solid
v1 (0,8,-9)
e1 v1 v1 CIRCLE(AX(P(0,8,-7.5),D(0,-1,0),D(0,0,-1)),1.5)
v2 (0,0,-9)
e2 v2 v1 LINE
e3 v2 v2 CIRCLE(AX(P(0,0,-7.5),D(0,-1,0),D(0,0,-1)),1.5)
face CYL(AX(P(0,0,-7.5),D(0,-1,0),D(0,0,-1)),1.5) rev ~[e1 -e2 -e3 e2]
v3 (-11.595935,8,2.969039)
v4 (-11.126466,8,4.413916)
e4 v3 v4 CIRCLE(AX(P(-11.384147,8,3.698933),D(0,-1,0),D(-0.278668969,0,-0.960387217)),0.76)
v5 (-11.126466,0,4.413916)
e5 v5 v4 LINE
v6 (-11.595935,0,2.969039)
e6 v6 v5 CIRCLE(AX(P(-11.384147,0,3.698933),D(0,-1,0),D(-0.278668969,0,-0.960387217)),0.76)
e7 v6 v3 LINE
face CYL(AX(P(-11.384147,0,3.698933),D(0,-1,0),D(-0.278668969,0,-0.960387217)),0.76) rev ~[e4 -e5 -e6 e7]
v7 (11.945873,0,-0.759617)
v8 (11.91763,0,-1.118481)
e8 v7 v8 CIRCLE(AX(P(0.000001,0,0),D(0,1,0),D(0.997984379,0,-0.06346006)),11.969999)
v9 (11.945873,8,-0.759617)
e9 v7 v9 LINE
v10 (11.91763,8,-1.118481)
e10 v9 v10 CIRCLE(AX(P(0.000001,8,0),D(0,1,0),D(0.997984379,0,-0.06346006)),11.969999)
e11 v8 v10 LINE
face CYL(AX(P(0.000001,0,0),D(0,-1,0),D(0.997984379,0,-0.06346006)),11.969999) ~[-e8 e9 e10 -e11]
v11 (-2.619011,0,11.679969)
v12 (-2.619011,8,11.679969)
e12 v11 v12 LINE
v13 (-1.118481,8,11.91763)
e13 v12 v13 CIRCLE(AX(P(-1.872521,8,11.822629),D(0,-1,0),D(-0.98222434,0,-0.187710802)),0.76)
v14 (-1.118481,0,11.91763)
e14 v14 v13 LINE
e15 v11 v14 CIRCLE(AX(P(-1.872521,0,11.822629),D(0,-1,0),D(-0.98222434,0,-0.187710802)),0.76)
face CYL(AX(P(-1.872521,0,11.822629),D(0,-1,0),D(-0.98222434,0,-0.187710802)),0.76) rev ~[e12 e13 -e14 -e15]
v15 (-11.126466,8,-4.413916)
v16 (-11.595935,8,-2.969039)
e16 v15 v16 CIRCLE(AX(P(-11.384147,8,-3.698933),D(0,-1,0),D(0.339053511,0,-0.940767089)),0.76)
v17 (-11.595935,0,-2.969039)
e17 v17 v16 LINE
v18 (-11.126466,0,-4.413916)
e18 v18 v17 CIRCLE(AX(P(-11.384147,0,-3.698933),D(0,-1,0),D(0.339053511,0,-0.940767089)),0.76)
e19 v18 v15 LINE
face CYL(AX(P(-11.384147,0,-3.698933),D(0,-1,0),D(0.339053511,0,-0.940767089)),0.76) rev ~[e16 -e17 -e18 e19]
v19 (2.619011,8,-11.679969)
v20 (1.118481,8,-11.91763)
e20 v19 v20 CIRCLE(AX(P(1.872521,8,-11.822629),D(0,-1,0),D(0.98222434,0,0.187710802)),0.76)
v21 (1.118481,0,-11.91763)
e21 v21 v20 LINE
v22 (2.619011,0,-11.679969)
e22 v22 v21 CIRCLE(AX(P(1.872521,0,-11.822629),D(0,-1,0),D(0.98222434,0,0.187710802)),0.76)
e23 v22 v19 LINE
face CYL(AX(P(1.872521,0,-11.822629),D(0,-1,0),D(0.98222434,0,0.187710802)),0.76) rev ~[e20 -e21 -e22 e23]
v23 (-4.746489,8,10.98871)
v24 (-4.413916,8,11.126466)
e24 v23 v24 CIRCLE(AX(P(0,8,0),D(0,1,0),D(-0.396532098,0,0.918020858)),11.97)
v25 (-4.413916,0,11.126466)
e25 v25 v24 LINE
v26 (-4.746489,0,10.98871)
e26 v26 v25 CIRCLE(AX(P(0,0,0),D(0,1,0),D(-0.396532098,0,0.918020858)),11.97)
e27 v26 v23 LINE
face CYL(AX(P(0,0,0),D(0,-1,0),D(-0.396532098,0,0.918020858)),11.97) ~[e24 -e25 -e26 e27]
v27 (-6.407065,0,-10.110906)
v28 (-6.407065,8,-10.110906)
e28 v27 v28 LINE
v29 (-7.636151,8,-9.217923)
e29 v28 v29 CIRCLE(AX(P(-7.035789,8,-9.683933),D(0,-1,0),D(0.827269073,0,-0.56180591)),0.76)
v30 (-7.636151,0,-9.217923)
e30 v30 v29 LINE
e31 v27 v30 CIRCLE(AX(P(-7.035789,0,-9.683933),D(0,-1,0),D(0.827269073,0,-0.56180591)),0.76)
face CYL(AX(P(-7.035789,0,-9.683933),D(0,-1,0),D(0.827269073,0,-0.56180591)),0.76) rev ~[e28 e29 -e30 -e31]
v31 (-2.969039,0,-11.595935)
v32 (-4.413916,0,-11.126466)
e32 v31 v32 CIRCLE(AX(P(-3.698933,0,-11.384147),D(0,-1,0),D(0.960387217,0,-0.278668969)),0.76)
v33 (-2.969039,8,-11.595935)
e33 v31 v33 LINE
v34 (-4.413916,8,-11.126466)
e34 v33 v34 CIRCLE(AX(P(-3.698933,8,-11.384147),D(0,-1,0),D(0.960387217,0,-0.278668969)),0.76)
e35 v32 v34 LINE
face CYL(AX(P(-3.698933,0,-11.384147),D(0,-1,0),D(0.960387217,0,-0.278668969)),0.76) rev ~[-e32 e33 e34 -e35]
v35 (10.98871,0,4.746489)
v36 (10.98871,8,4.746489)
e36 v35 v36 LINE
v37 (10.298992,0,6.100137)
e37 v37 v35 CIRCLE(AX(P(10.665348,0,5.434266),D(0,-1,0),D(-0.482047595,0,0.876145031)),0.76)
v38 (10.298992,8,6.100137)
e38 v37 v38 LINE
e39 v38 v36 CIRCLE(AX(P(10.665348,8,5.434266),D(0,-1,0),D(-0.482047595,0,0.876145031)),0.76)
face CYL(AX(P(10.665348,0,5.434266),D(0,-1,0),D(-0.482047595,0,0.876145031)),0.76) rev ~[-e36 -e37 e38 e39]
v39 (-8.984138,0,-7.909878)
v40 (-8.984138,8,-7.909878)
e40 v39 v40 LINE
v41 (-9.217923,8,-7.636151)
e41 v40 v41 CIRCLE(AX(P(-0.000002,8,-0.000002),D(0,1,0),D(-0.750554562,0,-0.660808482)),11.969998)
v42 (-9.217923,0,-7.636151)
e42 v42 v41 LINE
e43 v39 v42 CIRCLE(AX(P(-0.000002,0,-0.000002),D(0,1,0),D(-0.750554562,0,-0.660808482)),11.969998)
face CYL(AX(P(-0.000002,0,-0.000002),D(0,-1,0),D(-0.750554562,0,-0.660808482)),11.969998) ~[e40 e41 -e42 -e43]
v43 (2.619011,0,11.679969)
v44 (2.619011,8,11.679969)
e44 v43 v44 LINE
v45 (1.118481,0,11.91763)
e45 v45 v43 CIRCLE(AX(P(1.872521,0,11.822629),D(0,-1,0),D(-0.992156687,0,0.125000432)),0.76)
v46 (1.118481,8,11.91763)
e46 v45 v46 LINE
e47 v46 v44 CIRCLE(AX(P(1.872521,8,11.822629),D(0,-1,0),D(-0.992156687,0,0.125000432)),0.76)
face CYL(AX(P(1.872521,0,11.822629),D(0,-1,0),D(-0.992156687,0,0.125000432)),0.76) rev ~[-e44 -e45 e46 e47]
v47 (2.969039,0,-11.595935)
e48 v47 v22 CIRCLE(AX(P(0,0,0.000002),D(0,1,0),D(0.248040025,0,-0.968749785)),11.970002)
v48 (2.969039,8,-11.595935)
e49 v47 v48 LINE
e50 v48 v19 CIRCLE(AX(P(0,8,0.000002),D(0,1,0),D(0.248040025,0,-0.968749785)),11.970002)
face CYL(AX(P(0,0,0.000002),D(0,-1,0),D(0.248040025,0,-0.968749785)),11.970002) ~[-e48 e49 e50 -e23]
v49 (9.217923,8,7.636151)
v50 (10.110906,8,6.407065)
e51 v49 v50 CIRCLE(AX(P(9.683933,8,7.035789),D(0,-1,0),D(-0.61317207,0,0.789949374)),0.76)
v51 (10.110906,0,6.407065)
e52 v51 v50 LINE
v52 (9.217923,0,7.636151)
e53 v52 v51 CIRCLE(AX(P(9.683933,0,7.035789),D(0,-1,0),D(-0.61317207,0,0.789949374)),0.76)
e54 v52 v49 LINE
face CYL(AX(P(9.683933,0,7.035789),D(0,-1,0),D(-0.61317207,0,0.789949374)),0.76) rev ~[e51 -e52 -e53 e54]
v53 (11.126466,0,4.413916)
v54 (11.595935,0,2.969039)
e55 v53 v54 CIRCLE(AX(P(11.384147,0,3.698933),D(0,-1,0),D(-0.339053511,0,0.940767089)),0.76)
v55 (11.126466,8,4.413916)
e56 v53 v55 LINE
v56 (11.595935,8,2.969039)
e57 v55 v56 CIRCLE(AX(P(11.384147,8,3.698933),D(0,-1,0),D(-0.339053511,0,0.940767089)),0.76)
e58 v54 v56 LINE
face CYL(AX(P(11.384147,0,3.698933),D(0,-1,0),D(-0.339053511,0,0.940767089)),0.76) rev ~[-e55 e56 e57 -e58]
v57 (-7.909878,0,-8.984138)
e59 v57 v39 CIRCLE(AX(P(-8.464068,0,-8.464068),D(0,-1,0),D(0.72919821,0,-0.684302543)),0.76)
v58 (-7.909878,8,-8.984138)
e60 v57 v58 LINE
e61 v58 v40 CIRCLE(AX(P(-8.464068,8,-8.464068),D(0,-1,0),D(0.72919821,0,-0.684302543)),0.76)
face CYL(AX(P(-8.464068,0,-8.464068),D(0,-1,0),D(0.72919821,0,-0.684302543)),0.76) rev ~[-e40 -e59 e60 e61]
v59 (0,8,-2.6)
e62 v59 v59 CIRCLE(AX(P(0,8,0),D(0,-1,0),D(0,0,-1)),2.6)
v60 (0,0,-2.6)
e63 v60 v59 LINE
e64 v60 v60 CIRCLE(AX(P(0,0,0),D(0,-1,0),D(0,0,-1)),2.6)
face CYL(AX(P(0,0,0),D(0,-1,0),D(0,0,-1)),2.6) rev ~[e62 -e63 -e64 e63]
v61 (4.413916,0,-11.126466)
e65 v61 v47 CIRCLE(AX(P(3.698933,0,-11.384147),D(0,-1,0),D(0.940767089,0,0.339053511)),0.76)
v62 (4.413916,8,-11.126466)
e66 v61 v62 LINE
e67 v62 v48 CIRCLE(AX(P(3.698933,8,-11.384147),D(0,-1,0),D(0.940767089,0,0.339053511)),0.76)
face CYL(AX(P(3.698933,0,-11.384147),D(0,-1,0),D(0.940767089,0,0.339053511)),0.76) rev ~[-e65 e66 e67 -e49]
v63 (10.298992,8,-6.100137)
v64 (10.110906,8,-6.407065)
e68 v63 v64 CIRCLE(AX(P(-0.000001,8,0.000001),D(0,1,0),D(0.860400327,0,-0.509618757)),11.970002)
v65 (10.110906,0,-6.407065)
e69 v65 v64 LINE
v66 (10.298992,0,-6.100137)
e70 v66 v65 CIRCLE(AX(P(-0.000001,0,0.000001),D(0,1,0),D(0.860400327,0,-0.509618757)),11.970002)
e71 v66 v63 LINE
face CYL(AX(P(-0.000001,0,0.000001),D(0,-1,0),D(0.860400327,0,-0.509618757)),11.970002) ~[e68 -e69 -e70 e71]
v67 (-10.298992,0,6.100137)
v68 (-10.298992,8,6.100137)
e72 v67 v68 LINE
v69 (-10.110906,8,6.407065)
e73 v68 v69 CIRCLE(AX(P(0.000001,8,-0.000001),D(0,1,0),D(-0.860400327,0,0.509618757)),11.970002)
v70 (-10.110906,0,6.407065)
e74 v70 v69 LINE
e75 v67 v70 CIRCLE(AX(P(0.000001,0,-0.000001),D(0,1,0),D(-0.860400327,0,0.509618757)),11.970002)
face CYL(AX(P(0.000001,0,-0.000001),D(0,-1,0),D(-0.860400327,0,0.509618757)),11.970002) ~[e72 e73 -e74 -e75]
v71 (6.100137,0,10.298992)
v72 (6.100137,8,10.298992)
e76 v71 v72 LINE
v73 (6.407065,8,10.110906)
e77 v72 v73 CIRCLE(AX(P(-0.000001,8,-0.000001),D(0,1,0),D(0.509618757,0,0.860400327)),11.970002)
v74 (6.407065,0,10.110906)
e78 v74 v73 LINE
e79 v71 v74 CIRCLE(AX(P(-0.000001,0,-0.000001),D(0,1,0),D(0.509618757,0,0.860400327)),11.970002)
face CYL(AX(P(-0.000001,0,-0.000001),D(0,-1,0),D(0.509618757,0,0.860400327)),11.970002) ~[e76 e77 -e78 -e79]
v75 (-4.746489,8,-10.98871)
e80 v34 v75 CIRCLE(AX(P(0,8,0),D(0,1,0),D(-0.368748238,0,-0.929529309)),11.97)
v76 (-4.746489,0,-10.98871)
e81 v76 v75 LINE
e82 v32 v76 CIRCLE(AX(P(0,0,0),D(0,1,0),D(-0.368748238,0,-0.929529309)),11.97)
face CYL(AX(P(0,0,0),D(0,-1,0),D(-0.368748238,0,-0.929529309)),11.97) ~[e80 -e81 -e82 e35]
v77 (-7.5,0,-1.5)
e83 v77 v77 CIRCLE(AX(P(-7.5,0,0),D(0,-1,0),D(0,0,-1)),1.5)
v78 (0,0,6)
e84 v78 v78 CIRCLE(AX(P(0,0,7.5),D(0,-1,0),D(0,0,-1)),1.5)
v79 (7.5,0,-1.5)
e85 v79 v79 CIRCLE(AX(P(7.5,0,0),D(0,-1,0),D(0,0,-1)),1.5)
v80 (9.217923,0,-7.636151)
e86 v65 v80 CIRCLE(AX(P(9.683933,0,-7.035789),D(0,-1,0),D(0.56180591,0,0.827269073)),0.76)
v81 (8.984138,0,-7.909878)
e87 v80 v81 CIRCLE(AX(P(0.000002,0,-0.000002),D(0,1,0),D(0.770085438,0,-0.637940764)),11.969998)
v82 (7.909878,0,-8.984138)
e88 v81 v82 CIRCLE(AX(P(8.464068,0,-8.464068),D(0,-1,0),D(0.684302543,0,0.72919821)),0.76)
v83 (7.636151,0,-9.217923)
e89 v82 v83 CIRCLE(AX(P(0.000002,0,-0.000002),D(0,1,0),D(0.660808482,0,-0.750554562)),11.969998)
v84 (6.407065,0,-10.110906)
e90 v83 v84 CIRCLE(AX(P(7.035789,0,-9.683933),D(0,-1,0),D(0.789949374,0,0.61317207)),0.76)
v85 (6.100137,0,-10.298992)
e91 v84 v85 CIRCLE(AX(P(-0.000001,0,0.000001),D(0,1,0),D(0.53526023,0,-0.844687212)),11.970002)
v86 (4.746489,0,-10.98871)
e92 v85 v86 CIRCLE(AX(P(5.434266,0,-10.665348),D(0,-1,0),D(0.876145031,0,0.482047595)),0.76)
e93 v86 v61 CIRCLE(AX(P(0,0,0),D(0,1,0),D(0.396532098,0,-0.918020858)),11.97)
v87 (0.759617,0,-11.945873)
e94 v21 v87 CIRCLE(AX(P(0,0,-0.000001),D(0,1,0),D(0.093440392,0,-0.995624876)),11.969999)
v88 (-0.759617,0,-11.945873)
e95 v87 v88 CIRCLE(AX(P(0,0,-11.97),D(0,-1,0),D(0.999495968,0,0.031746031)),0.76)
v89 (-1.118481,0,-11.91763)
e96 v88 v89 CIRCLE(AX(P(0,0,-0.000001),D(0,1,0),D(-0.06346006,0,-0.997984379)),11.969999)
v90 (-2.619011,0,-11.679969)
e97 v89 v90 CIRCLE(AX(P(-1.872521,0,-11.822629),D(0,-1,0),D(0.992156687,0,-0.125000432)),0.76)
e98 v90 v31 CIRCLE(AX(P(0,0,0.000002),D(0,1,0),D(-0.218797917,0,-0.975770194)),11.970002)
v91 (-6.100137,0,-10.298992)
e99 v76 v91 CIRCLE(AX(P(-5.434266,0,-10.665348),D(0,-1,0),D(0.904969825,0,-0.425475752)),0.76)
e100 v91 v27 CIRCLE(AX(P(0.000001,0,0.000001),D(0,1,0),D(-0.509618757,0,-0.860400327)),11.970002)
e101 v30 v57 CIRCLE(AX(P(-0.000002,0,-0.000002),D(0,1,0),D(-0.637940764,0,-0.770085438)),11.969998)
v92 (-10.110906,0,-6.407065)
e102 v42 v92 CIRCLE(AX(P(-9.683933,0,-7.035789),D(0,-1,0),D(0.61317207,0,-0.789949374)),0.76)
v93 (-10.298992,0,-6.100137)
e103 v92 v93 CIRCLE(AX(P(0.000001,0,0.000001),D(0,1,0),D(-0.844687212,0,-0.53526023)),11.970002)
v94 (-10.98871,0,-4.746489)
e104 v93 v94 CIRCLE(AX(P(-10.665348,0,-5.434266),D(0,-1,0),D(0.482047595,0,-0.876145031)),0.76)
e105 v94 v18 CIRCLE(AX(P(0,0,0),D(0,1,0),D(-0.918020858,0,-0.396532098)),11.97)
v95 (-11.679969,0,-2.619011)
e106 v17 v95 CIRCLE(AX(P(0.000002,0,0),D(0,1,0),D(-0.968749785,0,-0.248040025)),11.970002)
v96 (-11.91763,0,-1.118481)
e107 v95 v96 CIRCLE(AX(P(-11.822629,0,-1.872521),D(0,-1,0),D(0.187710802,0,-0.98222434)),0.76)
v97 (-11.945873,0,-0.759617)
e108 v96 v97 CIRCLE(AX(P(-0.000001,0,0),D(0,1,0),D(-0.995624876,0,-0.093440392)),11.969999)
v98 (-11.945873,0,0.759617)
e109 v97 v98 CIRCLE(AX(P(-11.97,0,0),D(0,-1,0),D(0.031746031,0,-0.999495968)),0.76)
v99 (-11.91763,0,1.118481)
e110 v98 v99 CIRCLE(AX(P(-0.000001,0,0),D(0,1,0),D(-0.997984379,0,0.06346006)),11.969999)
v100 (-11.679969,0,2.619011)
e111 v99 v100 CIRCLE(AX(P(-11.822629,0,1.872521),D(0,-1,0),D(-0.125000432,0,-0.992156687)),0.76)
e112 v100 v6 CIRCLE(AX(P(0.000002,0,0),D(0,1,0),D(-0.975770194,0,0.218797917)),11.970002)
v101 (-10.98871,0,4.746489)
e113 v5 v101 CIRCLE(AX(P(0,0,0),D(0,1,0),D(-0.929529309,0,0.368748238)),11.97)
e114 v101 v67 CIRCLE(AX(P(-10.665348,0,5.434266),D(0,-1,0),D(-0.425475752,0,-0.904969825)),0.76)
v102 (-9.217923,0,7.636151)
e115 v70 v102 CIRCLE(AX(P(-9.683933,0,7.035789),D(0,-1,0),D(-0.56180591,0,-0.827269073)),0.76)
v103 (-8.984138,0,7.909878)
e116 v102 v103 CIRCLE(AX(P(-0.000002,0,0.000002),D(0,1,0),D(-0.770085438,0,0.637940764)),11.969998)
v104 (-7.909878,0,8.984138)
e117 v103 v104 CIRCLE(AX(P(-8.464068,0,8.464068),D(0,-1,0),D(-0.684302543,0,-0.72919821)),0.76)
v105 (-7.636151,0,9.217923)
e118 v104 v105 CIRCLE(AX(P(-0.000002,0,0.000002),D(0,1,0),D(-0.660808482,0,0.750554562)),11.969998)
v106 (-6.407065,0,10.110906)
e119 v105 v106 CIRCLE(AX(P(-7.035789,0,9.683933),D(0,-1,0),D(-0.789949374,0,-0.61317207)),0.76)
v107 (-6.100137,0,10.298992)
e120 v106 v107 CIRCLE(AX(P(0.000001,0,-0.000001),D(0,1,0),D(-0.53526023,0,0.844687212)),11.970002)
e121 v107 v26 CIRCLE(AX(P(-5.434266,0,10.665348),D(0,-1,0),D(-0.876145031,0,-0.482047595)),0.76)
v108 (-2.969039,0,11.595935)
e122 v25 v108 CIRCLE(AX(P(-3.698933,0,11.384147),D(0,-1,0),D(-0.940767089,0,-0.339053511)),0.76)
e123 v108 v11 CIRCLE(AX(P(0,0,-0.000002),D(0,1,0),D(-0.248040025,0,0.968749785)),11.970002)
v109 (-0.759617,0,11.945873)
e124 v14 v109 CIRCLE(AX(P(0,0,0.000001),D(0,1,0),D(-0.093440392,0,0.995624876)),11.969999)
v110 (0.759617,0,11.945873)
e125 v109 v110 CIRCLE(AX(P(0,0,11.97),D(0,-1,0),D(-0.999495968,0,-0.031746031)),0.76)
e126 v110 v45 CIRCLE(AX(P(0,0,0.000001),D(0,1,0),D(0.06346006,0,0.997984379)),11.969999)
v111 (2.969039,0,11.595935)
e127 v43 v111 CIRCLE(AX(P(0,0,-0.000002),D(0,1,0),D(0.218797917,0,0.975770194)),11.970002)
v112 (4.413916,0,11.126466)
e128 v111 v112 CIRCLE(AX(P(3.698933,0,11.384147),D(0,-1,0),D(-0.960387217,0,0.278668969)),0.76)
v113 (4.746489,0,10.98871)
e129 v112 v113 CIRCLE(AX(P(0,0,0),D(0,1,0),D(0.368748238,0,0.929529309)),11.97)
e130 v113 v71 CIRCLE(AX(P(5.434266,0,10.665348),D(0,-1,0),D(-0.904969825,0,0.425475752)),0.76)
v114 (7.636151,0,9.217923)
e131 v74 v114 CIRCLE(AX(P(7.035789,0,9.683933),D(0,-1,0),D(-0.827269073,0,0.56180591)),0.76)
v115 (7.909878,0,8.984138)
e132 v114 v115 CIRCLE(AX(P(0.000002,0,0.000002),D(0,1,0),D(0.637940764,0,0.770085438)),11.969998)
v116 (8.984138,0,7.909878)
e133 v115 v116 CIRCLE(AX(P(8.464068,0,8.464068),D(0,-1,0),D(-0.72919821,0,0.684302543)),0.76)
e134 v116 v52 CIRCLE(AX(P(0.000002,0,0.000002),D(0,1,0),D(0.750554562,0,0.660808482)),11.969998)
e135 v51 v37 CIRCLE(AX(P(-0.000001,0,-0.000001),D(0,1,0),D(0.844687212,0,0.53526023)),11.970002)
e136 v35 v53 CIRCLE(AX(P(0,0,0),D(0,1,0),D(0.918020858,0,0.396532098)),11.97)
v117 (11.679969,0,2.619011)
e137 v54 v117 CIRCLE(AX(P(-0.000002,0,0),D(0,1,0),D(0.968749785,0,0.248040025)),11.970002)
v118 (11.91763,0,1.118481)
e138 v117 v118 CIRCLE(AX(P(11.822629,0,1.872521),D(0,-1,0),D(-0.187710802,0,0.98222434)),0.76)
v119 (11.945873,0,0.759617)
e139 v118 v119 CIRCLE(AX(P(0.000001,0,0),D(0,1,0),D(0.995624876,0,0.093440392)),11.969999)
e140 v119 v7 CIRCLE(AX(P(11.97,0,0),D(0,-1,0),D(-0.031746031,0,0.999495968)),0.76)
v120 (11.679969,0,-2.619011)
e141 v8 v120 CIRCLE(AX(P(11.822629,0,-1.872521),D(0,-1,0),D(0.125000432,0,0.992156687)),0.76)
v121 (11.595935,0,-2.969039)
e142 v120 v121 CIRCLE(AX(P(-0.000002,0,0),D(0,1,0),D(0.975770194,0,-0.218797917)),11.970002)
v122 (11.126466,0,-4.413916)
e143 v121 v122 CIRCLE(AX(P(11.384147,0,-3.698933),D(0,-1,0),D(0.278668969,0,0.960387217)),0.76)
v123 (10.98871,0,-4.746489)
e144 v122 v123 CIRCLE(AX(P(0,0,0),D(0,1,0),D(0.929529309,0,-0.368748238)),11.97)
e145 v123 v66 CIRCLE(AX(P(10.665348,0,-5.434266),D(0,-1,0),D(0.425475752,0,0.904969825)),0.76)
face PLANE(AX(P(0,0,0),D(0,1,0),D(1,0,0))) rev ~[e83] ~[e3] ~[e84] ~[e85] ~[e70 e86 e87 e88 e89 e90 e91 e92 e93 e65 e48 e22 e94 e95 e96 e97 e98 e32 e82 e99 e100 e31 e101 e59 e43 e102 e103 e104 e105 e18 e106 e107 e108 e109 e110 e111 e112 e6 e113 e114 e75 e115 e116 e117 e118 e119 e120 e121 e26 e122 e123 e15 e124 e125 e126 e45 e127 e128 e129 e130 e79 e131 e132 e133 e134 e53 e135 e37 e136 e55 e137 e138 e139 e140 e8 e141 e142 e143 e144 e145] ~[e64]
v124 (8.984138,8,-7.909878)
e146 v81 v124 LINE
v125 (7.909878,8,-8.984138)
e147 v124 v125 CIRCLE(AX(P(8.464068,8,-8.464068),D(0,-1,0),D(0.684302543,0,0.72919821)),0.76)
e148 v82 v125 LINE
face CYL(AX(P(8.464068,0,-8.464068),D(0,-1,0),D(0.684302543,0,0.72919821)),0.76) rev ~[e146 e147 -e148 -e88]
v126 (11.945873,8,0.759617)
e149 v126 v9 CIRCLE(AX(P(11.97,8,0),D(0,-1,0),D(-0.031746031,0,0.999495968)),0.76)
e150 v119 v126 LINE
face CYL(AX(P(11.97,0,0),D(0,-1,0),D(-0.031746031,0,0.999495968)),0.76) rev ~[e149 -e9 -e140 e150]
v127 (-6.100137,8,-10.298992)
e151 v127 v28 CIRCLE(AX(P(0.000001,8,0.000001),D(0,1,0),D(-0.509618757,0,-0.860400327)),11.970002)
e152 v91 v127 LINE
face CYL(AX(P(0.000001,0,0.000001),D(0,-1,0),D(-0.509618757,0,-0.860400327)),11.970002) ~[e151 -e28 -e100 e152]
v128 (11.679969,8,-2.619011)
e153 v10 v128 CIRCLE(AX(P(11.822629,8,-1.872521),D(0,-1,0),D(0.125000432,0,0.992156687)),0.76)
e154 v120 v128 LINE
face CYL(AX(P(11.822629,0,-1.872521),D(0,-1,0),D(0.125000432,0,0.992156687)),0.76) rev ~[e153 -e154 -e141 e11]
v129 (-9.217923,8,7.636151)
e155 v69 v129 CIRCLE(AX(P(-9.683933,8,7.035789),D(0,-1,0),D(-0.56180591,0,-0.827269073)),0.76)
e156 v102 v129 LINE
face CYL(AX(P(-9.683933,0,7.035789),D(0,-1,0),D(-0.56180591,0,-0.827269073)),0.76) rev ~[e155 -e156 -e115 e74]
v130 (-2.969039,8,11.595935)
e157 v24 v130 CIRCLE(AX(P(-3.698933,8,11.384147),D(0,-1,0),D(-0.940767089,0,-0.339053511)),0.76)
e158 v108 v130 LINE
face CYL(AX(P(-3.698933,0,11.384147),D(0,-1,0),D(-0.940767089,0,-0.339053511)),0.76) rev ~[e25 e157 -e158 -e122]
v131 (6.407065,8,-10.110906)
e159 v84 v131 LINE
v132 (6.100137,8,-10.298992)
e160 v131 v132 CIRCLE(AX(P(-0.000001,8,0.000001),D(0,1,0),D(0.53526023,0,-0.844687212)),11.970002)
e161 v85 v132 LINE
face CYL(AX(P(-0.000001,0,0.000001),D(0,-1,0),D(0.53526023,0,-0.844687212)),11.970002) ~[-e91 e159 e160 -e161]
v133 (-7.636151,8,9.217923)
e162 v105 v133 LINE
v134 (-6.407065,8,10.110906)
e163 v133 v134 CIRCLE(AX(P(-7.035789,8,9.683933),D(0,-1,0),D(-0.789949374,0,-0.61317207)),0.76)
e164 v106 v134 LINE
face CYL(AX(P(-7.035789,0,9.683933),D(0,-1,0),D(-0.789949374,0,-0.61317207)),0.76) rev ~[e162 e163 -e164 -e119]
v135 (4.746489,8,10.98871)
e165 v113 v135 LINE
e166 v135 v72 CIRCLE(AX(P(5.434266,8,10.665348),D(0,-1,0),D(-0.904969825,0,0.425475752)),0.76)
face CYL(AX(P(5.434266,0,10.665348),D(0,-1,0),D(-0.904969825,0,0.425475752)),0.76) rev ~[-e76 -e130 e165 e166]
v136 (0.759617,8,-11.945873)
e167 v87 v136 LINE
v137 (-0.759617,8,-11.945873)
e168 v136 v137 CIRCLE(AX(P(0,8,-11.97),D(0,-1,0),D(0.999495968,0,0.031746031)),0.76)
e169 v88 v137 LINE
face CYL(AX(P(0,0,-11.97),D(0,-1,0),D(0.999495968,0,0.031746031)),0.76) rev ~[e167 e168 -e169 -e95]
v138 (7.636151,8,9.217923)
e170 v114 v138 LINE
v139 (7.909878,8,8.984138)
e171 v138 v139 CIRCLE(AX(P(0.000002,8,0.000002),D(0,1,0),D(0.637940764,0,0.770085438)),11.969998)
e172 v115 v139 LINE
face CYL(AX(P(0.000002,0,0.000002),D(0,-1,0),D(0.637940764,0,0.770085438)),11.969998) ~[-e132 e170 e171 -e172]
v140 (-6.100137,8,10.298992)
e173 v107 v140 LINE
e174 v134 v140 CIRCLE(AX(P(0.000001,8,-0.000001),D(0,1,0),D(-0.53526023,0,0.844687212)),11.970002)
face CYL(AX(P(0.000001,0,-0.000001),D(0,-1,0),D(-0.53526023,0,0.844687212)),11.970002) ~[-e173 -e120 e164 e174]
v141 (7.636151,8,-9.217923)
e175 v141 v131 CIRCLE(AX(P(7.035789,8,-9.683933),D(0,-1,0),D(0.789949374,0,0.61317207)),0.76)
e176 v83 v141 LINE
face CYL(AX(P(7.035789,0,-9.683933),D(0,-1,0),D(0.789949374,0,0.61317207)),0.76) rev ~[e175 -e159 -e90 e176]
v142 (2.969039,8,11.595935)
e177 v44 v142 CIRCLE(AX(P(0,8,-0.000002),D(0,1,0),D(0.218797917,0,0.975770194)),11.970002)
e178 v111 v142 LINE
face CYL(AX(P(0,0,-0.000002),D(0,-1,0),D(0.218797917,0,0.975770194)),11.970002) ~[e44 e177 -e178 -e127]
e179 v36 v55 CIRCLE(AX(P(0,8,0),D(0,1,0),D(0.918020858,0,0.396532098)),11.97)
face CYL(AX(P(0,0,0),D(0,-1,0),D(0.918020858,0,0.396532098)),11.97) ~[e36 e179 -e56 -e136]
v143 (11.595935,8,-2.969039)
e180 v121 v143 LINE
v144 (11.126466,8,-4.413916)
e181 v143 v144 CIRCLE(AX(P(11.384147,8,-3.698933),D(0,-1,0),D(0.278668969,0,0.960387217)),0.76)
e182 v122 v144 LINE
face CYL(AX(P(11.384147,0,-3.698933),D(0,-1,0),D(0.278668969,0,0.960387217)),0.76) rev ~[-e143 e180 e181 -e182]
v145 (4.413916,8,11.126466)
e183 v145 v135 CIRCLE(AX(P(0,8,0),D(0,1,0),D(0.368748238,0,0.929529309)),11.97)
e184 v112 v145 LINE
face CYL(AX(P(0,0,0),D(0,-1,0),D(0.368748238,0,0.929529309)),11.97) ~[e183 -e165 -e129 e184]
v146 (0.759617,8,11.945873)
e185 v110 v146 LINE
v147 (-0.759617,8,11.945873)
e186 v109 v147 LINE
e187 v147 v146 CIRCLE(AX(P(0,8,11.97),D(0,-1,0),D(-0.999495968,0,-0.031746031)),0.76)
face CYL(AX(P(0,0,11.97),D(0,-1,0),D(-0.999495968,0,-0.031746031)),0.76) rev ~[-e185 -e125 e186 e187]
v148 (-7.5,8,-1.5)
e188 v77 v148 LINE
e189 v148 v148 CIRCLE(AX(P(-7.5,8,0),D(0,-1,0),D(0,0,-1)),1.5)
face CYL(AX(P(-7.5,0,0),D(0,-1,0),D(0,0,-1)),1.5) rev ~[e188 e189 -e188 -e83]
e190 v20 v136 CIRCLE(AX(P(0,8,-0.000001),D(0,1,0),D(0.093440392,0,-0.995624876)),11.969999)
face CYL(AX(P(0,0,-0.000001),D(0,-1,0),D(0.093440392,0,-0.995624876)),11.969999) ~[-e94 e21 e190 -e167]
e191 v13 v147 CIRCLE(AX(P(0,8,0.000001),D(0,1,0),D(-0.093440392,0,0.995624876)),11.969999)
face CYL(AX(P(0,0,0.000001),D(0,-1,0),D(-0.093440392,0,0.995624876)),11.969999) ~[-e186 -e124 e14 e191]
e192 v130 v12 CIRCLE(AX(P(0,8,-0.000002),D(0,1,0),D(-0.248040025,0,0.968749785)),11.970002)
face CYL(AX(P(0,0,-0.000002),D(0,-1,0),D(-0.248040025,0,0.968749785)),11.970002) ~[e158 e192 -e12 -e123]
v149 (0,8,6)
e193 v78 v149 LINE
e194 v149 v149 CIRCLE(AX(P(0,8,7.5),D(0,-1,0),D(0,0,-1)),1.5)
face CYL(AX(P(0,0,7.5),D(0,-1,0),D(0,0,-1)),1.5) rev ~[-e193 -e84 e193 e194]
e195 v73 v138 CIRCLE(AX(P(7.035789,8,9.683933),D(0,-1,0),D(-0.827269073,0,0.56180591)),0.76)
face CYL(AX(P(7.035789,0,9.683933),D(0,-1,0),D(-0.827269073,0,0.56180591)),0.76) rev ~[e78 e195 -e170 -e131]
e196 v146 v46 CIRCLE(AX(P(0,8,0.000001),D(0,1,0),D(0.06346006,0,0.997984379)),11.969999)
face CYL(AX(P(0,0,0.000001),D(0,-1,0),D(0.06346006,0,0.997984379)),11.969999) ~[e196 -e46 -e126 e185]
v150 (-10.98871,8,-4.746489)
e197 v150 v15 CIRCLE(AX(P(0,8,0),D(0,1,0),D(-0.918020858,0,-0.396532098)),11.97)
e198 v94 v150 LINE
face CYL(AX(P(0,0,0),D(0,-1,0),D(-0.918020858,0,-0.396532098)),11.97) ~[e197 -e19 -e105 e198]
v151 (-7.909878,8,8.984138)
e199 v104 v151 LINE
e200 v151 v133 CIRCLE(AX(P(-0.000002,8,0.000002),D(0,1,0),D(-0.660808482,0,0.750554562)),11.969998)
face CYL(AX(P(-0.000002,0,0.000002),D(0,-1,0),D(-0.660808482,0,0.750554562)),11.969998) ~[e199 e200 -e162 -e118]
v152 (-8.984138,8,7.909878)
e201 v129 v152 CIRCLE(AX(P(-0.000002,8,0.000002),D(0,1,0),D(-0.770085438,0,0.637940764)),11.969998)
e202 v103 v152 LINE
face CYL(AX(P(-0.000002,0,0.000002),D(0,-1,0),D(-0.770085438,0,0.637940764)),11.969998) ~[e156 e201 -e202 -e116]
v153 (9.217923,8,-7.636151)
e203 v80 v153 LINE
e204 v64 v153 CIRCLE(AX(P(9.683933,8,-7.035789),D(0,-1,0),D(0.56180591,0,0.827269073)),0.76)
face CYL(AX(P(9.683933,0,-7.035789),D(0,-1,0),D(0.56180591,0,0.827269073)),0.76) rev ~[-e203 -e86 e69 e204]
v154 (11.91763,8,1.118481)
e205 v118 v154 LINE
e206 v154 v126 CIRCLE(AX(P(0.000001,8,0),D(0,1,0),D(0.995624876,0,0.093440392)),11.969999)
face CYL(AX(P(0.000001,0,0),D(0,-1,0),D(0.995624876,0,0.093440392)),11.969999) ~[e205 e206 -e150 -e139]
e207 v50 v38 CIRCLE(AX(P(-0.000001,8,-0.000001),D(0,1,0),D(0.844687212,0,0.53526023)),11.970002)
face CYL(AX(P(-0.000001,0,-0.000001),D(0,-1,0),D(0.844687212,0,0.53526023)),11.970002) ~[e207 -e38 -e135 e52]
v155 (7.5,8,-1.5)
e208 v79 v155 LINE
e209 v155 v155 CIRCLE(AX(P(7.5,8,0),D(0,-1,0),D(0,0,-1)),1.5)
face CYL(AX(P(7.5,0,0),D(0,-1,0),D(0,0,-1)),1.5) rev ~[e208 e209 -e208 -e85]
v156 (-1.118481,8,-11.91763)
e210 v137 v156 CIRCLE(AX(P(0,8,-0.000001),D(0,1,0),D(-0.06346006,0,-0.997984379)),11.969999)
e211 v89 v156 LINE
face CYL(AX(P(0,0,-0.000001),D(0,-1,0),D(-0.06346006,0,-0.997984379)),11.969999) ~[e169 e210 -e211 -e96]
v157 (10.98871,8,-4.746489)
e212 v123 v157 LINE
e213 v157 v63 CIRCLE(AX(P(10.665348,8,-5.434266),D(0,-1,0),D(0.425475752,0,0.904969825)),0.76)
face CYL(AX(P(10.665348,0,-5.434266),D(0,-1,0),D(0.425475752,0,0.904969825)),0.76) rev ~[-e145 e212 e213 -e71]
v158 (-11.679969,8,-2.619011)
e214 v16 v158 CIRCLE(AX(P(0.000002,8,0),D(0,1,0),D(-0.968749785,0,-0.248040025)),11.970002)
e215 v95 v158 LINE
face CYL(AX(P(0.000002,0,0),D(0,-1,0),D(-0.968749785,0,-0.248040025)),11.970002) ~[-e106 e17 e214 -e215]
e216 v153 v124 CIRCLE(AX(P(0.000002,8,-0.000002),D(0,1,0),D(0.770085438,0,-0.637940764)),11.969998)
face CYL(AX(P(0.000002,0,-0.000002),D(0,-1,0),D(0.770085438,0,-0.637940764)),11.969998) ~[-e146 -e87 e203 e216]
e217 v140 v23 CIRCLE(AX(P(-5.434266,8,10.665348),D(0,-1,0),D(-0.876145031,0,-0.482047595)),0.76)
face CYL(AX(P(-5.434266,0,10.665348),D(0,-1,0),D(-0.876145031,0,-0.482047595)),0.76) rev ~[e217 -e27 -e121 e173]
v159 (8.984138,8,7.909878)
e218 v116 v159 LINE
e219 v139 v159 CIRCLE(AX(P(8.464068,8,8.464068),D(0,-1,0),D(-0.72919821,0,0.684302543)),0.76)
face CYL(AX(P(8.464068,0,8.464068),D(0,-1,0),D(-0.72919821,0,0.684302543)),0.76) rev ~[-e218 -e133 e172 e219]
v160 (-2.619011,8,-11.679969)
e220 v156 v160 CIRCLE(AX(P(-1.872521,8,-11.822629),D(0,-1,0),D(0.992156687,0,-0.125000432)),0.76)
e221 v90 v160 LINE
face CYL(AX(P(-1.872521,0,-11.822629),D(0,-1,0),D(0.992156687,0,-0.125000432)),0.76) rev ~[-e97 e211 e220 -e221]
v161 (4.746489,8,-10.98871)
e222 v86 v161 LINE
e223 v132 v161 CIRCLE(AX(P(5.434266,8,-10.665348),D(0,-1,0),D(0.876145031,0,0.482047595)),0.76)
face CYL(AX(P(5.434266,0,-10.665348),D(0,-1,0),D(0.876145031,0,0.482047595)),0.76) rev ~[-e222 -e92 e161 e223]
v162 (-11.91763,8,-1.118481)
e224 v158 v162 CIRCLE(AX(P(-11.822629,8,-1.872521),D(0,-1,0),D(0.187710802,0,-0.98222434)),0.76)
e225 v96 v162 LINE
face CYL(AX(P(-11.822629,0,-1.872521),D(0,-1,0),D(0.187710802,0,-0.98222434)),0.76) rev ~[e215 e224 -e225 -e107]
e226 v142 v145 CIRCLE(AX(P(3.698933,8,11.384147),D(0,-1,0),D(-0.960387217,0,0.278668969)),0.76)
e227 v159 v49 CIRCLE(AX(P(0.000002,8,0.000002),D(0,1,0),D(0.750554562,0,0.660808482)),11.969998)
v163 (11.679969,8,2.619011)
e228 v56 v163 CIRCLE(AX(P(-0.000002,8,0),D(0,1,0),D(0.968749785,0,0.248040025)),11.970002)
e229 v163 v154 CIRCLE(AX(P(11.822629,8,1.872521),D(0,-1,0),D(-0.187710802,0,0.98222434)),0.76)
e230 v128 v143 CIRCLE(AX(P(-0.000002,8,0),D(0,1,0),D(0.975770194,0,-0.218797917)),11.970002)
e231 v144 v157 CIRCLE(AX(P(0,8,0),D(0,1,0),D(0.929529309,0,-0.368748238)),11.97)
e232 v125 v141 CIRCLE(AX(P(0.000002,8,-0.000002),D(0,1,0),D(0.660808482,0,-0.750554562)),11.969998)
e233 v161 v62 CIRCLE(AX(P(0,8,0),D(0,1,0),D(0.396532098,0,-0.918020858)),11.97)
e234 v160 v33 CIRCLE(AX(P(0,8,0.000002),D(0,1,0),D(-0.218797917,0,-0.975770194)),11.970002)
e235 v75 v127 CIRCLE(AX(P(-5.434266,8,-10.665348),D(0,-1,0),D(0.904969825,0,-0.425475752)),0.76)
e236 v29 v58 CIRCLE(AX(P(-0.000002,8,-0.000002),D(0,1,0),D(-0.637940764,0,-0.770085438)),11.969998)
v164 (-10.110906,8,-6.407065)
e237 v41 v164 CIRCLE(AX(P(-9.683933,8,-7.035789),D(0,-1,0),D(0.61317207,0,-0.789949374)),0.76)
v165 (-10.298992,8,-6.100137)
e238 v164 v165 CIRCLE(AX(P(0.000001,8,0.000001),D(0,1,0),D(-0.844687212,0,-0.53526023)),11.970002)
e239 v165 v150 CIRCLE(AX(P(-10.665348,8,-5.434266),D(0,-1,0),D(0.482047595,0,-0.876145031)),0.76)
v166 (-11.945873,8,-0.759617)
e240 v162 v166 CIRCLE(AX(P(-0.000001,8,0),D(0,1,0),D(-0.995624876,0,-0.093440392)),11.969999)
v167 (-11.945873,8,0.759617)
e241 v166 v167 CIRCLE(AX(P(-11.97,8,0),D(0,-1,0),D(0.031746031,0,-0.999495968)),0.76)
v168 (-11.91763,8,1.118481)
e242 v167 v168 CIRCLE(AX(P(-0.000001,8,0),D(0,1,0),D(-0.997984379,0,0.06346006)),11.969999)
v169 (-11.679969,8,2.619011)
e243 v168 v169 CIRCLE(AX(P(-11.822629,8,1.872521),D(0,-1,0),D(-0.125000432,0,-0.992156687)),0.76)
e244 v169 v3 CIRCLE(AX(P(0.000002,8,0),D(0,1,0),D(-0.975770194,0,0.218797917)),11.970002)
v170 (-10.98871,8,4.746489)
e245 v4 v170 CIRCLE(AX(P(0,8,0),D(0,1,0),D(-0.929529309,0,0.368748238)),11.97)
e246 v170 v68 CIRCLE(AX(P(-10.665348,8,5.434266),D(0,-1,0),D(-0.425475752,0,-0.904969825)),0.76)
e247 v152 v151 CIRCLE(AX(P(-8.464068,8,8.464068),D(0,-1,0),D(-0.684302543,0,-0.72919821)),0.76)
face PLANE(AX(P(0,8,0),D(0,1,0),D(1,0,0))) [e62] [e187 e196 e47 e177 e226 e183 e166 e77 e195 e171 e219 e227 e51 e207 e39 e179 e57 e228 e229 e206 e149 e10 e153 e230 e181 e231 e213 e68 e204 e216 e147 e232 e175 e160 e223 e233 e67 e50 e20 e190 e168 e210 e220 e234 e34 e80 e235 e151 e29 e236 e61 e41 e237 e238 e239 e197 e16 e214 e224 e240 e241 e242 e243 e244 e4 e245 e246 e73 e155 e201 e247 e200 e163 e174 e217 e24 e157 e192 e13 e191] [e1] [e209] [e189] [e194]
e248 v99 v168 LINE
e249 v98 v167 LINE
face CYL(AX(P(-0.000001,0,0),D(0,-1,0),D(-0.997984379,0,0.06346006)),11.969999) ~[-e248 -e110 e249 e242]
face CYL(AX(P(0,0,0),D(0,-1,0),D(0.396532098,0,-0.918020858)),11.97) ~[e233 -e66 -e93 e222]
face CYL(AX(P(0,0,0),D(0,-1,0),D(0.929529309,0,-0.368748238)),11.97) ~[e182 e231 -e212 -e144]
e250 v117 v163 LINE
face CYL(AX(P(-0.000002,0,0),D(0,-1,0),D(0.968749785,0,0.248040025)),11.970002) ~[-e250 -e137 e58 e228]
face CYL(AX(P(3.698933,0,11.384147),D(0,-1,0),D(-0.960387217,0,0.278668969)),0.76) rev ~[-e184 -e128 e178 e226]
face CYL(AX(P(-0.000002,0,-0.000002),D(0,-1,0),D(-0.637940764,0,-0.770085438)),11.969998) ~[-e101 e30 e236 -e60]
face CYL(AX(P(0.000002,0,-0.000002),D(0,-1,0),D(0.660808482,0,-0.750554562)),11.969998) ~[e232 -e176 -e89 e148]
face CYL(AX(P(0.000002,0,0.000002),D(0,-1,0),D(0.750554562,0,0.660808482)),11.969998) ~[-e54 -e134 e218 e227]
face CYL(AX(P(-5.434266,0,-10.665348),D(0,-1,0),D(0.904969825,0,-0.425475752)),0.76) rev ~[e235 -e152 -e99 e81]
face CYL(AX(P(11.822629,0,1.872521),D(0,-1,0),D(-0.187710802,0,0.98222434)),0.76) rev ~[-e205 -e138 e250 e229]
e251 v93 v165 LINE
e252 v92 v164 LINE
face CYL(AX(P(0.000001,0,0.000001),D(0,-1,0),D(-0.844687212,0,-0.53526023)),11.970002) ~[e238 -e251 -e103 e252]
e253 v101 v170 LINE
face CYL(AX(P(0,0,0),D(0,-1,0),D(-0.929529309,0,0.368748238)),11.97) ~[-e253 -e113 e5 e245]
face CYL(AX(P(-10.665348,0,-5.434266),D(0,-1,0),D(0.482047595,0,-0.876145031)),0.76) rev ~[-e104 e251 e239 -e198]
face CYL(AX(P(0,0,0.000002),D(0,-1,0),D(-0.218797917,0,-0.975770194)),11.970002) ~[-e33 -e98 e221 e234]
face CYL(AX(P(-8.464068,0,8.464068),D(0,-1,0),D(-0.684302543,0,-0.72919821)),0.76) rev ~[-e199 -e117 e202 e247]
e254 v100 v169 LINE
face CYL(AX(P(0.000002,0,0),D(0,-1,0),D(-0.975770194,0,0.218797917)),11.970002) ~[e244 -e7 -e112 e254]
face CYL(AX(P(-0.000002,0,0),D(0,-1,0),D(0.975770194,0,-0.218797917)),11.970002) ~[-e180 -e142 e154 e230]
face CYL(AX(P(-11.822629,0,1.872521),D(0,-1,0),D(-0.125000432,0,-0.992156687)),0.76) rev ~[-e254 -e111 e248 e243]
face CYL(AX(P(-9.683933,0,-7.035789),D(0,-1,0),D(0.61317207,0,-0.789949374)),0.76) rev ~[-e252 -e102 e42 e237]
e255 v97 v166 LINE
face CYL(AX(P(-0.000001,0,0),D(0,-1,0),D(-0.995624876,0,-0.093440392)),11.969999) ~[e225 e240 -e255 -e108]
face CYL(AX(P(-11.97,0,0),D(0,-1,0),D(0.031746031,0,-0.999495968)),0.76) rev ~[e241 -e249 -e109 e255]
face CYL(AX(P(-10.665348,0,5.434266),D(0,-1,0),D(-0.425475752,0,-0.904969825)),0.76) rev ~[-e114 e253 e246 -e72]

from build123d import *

# Parameters (mm, degrees)
BOSS_EXTRUDE1_DEPTH = 8
SKETCH4_R           = 2.6
CUT_EXTRUDE1_DEPTH  = 23
SKETCH5_R           = 1.5
CUT_EXTRUDE2_DEPTH  = 19.692452066


with BuildPart() as part:
    # Sketch1 → Boss-Extrude1 (new body)
    with BuildSketch(Plane(origin=(0, 0, 0), x_dir=(1, 0, 0), z_dir=(0, 1, 0))):
        with BuildLine():
            ThreePointArc((-2.619011045, 11.679969227), (-2.794341005, 11.639267947), (-2.969039138, 11.595934917))
            ThreePointArc((-2.969039138, 11.595934917), (-3.464080507, 10.661343548), (-4.413916411, 11.126465832))
            ThreePointArc((-4.413916411, 11.126465832), (-4.580720685, 11.058838004), (-4.746489215, 10.988709666))
            ThreePointArc((-4.746489215, 10.988709666), (-5.089233502, 9.988183136), (-6.100136506, 10.298991922))
            ThreePointArc((-6.100136506, 10.298991922), (-6.25430782, 10.206102767), (-6.407064974, 10.110905915))
            ThreePointArc((-6.407064974, 10.110905915), (-6.589072678, 9.069080507), (-7.636150994, 9.21792265))
            ThreePointArc((-7.636150994, 9.21792265), (-7.773893139, 9.102059408), (-7.909877531, 8.984138103))
            ThreePointArc((-7.909877531, 8.984138103), (-7.926667017, 7.926667017), (-8.984138103, 7.909877531))
            ThreePointArc((-8.984138103, 7.909877531), (-9.102059408, 7.773893139), (-9.21792265, 7.636150994))
            ThreePointArc((-9.21792265, 7.636150994), (-9.069080507, 6.589072678), (-10.110905915, 6.407064974))
            ThreePointArc((-10.110905915, 6.407064974), (-10.206102767, 6.25430782), (-10.298991922, 6.100136506))
            ThreePointArc((-10.298991922, 6.100136506), (-9.988183136, 5.089233502), (-10.988709666, 4.746489215))
            ThreePointArc((-10.988709666, 4.746489215), (-11.058838004, 4.580720685), (-11.126465832, 4.413916411))
            ThreePointArc((-11.126465832, 4.413916411), (-10.661343548, 3.464080507), (-11.595934917, 2.969039138))
            ThreePointArc((-11.595934917, 2.969039138), (-11.639267947, 2.794341005), (-11.679969227, 2.619011045))
            ThreePointArc((-11.679969227, 2.619011045), (-11.071986298, 1.753630353), (-11.917629765, 1.118481464))
            ThreePointArc((-11.917629765, 1.118481464), (-11.933100485, 0.939155376), (-11.945873016, 0.759616935))
            ThreePointArc((-11.945873016, 0.759616935), (-11.21, 0), (-11.945873016, -0.759616935))
            ThreePointArc((-11.945873016, -0.759616935), (-11.933100485, -0.939155376), (-11.917629765, -1.118481464))
            ThreePointArc((-11.917629765, -1.118481464), (-11.071986298, -1.753630353), (-11.679969227, -2.619011045))
            ThreePointArc((-11.679969227, -2.619011045), (-11.639267947, -2.794341005), (-11.595934917, -2.969039138))
            ThreePointArc((-11.595934917, -2.969039138), (-10.661343548, -3.464080507), (-11.126465832, -4.413916411))
            ThreePointArc((-11.126465832, -4.413916411), (-11.058838004, -4.580720685), (-10.988709666, -4.746489215))
            ThreePointArc((-10.988709666, -4.746489215), (-9.988183136, -5.089233502), (-10.298991922, -6.100136506))
            ThreePointArc((-10.298991922, -6.100136506), (-10.206102767, -6.25430782), (-10.110905915, -6.407064974))
            ThreePointArc((-10.110905915, -6.407064974), (-9.069080507, -6.589072678), (-9.21792265, -7.636150994))
            ThreePointArc((-9.21792265, -7.636150994), (-9.102059408, -7.773893139), (-8.984138103, -7.909877531))
            ThreePointArc((-8.984138103, -7.909877531), (-7.926667017, -7.926667017), (-7.909877531, -8.984138103))
            ThreePointArc((-7.909877531, -8.984138103), (-7.773893139, -9.102059408), (-7.636150994, -9.21792265))
            ThreePointArc((-7.636150994, -9.21792265), (-6.589072678, -9.069080507), (-6.407064974, -10.110905915))
            ThreePointArc((-6.407064974, -10.110905915), (-6.25430782, -10.206102767), (-6.100136506, -10.298991922))
            ThreePointArc((-6.100136506, -10.298991922), (-5.089233502, -9.988183136), (-4.746489215, -10.988709666))
            ThreePointArc((-4.746489215, -10.988709666), (-4.580720685, -11.058838004), (-4.413916411, -11.126465832))
            ThreePointArc((-4.413916411, -11.126465832), (-3.464080507, -10.661343548), (-2.969039138, -11.595934917))
            ThreePointArc((-2.969039138, -11.595934917), (-2.794341005, -11.639267947), (-2.619011045, -11.679969227))
            ThreePointArc((-2.619011045, -11.679969227), (-1.753630353, -11.071986298), (-1.118481464, -11.917629765))
            ThreePointArc((-1.118481464, -11.917629765), (-0.939155376, -11.933100485), (-0.759616935, -11.945873016))
            ThreePointArc((-0.759616935, -11.945873016), (0, -11.21), (0.759616935, -11.945873016))
            ThreePointArc((0.759616935, -11.945873016), (0.939155376, -11.933100485), (1.118481464, -11.917629765))
            ThreePointArc((1.118481464, -11.917629765), (1.753630353, -11.071986298), (2.619011045, -11.679969227))
            ThreePointArc((2.619011045, -11.679969227), (2.794341005, -11.639267947), (2.969039138, -11.595934917))
            ThreePointArc((2.969039138, -11.595934917), (3.464080507, -10.661343548), (4.413916411, -11.126465832))
            ThreePointArc((4.413916411, -11.126465832), (4.580720685, -11.058838004), (4.746489215, -10.988709666))
            ThreePointArc((4.746489215, -10.988709666), (5.089233502, -9.988183136), (6.100136506, -10.298991922))
            ThreePointArc((6.100136506, -10.298991922), (6.25430782, -10.206102767), (6.407064974, -10.110905915))
            ThreePointArc((6.407064974, -10.110905915), (6.589072678, -9.069080507), (7.636150994, -9.21792265))
            ThreePointArc((7.636150994, -9.21792265), (7.773893139, -9.102059408), (7.909877531, -8.984138103))
            ThreePointArc((7.909877531, -8.984138103), (7.926667017, -7.926667017), (8.984138103, -7.909877531))
            ThreePointArc((8.984138103, -7.909877531), (9.102059408, -7.773893139), (9.21792265, -7.636150994))
            ThreePointArc((9.21792265, -7.636150994), (9.069080507, -6.589072678), (10.110905915, -6.407064974))
            ThreePointArc((10.110905915, -6.407064974), (10.206102767, -6.25430782), (10.298991922, -6.100136506))
            ThreePointArc((10.298991922, -6.100136506), (9.988183136, -5.089233502), (10.988709666, -4.746489215))
            ThreePointArc((10.988709666, -4.746489215), (11.058838004, -4.580720685), (11.126465832, -4.413916411))
            ThreePointArc((11.126465832, -4.413916411), (10.661343548, -3.464080507), (11.595934917, -2.969039138))
            ThreePointArc((11.595934917, -2.969039138), (11.639267947, -2.794341005), (11.679969227, -2.619011045))
            ThreePointArc((11.679969227, -2.619011045), (11.071986298, -1.753630353), (11.917629765, -1.118481464))
            ThreePointArc((11.917629765, -1.118481464), (11.933100485, -0.939155376), (11.945873016, -0.759616935))
            ThreePointArc((11.945873016, -0.759616935), (11.21, 0), (11.945873016, 0.759616935))
            ThreePointArc((11.945873016, 0.759616935), (11.933100485, 0.939155376), (11.917629765, 1.118481464))
            ThreePointArc((11.917629765, 1.118481464), (11.071986298, 1.753630353), (11.679969227, 2.619011045))
            ThreePointArc((11.679969227, 2.619011045), (11.639267947, 2.794341005), (11.595934917, 2.969039138))
            ThreePointArc((11.595934917, 2.969039138), (10.661343548, 3.464080507), (11.126465832, 4.413916411))
            ThreePointArc((11.126465832, 4.413916411), (11.058838004, 4.580720685), (10.988709666, 4.746489215))
            ThreePointArc((10.988709666, 4.746489215), (9.988183136, 5.089233502), (10.298991922, 6.100136506))
            ThreePointArc((10.298991922, 6.100136506), (10.206102767, 6.25430782), (10.110905915, 6.407064974))
            ThreePointArc((10.110905915, 6.407064974), (9.069080507, 6.589072678), (9.21792265, 7.636150994))
            ThreePointArc((9.21792265, 7.636150994), (9.102059408, 7.773893139), (8.984138103, 7.909877531))
            ThreePointArc((8.984138103, 7.909877531), (7.926667017, 7.926667017), (7.909877531, 8.984138103))
            ThreePointArc((7.909877531, 8.984138103), (7.773893139, 9.102059408), (7.636150994, 9.21792265))
            ThreePointArc((7.636150994, 9.21792265), (6.589072678, 9.069080507), (6.407064974, 10.110905915))
            ThreePointArc((6.407064974, 10.110905915), (6.25430782, 10.206102767), (6.100136506, 10.298991922))
            ThreePointArc((6.100136506, 10.298991922), (5.089233502, 9.988183136), (4.746489215, 10.988709666))
            ThreePointArc((4.746489215, 10.988709666), (4.580720685, 11.058838004), (4.413916411, 11.126465832))
            ThreePointArc((4.413916411, 11.126465832), (3.464080507, 10.661343548), (2.969039138, 11.595934917))
            ThreePointArc((2.969039138, 11.595934917), (2.794341005, 11.639267947), (2.619011045, 11.679969227))
            ThreePointArc((2.619011045, 11.679969227), (1.753630353, 11.071986298), (1.118481464, 11.917629765))
            ThreePointArc((1.118481464, 11.917629765), (0.939155376, 11.933100485), (0.759616935, 11.945873016))
            ThreePointArc((0.759616935, 11.945873016), (0, 11.21), (-0.759616935, 11.945873016))
            ThreePointArc((-0.759616935, 11.945873016), (-0.939155376, 11.933100485), (-1.118481464, 11.917629765))
            ThreePointArc((-1.118481464, 11.917629765), (-1.753630353, 11.071986298), (-2.619011045, 11.679969227))
        make_face()
    extrude(amount=BOSS_EXTRUDE1_DEPTH)

    # Sketch4 → Cut-Extrude1 (cut)
    with BuildSketch(Plane.XZ):
        with Locations(Location((0, 0, 0), (0, 0, 270))):
            Circle(SKETCH4_R)
    extrude(amount=-CUT_EXTRUDE1_DEPTH, mode=Mode.SUBTRACT)

    # Sketch5 → Cut-Extrude2 (cut, through all)
    with BuildSketch(Plane.XZ):
        with Locations(Location((0, 7.5, 0), (0, 0, 270))):
            Circle(SKETCH5_R)
        with Locations(Location((7.5, 0, 0), (0, 0, 270))):
            Circle(SKETCH5_R)
        with Locations(Location((0, -7.5, 0), (0, 0, 270))):
            Circle(SKETCH5_R)
        with Locations(Location((-7.5, 0, 0), (0, 0, 270))):
            Circle(SKETCH5_R)
    extrude(amount=-CUT_EXTRUDE2_DEPTH, mode=Mode.SUBTRACT)


solid = part.part
